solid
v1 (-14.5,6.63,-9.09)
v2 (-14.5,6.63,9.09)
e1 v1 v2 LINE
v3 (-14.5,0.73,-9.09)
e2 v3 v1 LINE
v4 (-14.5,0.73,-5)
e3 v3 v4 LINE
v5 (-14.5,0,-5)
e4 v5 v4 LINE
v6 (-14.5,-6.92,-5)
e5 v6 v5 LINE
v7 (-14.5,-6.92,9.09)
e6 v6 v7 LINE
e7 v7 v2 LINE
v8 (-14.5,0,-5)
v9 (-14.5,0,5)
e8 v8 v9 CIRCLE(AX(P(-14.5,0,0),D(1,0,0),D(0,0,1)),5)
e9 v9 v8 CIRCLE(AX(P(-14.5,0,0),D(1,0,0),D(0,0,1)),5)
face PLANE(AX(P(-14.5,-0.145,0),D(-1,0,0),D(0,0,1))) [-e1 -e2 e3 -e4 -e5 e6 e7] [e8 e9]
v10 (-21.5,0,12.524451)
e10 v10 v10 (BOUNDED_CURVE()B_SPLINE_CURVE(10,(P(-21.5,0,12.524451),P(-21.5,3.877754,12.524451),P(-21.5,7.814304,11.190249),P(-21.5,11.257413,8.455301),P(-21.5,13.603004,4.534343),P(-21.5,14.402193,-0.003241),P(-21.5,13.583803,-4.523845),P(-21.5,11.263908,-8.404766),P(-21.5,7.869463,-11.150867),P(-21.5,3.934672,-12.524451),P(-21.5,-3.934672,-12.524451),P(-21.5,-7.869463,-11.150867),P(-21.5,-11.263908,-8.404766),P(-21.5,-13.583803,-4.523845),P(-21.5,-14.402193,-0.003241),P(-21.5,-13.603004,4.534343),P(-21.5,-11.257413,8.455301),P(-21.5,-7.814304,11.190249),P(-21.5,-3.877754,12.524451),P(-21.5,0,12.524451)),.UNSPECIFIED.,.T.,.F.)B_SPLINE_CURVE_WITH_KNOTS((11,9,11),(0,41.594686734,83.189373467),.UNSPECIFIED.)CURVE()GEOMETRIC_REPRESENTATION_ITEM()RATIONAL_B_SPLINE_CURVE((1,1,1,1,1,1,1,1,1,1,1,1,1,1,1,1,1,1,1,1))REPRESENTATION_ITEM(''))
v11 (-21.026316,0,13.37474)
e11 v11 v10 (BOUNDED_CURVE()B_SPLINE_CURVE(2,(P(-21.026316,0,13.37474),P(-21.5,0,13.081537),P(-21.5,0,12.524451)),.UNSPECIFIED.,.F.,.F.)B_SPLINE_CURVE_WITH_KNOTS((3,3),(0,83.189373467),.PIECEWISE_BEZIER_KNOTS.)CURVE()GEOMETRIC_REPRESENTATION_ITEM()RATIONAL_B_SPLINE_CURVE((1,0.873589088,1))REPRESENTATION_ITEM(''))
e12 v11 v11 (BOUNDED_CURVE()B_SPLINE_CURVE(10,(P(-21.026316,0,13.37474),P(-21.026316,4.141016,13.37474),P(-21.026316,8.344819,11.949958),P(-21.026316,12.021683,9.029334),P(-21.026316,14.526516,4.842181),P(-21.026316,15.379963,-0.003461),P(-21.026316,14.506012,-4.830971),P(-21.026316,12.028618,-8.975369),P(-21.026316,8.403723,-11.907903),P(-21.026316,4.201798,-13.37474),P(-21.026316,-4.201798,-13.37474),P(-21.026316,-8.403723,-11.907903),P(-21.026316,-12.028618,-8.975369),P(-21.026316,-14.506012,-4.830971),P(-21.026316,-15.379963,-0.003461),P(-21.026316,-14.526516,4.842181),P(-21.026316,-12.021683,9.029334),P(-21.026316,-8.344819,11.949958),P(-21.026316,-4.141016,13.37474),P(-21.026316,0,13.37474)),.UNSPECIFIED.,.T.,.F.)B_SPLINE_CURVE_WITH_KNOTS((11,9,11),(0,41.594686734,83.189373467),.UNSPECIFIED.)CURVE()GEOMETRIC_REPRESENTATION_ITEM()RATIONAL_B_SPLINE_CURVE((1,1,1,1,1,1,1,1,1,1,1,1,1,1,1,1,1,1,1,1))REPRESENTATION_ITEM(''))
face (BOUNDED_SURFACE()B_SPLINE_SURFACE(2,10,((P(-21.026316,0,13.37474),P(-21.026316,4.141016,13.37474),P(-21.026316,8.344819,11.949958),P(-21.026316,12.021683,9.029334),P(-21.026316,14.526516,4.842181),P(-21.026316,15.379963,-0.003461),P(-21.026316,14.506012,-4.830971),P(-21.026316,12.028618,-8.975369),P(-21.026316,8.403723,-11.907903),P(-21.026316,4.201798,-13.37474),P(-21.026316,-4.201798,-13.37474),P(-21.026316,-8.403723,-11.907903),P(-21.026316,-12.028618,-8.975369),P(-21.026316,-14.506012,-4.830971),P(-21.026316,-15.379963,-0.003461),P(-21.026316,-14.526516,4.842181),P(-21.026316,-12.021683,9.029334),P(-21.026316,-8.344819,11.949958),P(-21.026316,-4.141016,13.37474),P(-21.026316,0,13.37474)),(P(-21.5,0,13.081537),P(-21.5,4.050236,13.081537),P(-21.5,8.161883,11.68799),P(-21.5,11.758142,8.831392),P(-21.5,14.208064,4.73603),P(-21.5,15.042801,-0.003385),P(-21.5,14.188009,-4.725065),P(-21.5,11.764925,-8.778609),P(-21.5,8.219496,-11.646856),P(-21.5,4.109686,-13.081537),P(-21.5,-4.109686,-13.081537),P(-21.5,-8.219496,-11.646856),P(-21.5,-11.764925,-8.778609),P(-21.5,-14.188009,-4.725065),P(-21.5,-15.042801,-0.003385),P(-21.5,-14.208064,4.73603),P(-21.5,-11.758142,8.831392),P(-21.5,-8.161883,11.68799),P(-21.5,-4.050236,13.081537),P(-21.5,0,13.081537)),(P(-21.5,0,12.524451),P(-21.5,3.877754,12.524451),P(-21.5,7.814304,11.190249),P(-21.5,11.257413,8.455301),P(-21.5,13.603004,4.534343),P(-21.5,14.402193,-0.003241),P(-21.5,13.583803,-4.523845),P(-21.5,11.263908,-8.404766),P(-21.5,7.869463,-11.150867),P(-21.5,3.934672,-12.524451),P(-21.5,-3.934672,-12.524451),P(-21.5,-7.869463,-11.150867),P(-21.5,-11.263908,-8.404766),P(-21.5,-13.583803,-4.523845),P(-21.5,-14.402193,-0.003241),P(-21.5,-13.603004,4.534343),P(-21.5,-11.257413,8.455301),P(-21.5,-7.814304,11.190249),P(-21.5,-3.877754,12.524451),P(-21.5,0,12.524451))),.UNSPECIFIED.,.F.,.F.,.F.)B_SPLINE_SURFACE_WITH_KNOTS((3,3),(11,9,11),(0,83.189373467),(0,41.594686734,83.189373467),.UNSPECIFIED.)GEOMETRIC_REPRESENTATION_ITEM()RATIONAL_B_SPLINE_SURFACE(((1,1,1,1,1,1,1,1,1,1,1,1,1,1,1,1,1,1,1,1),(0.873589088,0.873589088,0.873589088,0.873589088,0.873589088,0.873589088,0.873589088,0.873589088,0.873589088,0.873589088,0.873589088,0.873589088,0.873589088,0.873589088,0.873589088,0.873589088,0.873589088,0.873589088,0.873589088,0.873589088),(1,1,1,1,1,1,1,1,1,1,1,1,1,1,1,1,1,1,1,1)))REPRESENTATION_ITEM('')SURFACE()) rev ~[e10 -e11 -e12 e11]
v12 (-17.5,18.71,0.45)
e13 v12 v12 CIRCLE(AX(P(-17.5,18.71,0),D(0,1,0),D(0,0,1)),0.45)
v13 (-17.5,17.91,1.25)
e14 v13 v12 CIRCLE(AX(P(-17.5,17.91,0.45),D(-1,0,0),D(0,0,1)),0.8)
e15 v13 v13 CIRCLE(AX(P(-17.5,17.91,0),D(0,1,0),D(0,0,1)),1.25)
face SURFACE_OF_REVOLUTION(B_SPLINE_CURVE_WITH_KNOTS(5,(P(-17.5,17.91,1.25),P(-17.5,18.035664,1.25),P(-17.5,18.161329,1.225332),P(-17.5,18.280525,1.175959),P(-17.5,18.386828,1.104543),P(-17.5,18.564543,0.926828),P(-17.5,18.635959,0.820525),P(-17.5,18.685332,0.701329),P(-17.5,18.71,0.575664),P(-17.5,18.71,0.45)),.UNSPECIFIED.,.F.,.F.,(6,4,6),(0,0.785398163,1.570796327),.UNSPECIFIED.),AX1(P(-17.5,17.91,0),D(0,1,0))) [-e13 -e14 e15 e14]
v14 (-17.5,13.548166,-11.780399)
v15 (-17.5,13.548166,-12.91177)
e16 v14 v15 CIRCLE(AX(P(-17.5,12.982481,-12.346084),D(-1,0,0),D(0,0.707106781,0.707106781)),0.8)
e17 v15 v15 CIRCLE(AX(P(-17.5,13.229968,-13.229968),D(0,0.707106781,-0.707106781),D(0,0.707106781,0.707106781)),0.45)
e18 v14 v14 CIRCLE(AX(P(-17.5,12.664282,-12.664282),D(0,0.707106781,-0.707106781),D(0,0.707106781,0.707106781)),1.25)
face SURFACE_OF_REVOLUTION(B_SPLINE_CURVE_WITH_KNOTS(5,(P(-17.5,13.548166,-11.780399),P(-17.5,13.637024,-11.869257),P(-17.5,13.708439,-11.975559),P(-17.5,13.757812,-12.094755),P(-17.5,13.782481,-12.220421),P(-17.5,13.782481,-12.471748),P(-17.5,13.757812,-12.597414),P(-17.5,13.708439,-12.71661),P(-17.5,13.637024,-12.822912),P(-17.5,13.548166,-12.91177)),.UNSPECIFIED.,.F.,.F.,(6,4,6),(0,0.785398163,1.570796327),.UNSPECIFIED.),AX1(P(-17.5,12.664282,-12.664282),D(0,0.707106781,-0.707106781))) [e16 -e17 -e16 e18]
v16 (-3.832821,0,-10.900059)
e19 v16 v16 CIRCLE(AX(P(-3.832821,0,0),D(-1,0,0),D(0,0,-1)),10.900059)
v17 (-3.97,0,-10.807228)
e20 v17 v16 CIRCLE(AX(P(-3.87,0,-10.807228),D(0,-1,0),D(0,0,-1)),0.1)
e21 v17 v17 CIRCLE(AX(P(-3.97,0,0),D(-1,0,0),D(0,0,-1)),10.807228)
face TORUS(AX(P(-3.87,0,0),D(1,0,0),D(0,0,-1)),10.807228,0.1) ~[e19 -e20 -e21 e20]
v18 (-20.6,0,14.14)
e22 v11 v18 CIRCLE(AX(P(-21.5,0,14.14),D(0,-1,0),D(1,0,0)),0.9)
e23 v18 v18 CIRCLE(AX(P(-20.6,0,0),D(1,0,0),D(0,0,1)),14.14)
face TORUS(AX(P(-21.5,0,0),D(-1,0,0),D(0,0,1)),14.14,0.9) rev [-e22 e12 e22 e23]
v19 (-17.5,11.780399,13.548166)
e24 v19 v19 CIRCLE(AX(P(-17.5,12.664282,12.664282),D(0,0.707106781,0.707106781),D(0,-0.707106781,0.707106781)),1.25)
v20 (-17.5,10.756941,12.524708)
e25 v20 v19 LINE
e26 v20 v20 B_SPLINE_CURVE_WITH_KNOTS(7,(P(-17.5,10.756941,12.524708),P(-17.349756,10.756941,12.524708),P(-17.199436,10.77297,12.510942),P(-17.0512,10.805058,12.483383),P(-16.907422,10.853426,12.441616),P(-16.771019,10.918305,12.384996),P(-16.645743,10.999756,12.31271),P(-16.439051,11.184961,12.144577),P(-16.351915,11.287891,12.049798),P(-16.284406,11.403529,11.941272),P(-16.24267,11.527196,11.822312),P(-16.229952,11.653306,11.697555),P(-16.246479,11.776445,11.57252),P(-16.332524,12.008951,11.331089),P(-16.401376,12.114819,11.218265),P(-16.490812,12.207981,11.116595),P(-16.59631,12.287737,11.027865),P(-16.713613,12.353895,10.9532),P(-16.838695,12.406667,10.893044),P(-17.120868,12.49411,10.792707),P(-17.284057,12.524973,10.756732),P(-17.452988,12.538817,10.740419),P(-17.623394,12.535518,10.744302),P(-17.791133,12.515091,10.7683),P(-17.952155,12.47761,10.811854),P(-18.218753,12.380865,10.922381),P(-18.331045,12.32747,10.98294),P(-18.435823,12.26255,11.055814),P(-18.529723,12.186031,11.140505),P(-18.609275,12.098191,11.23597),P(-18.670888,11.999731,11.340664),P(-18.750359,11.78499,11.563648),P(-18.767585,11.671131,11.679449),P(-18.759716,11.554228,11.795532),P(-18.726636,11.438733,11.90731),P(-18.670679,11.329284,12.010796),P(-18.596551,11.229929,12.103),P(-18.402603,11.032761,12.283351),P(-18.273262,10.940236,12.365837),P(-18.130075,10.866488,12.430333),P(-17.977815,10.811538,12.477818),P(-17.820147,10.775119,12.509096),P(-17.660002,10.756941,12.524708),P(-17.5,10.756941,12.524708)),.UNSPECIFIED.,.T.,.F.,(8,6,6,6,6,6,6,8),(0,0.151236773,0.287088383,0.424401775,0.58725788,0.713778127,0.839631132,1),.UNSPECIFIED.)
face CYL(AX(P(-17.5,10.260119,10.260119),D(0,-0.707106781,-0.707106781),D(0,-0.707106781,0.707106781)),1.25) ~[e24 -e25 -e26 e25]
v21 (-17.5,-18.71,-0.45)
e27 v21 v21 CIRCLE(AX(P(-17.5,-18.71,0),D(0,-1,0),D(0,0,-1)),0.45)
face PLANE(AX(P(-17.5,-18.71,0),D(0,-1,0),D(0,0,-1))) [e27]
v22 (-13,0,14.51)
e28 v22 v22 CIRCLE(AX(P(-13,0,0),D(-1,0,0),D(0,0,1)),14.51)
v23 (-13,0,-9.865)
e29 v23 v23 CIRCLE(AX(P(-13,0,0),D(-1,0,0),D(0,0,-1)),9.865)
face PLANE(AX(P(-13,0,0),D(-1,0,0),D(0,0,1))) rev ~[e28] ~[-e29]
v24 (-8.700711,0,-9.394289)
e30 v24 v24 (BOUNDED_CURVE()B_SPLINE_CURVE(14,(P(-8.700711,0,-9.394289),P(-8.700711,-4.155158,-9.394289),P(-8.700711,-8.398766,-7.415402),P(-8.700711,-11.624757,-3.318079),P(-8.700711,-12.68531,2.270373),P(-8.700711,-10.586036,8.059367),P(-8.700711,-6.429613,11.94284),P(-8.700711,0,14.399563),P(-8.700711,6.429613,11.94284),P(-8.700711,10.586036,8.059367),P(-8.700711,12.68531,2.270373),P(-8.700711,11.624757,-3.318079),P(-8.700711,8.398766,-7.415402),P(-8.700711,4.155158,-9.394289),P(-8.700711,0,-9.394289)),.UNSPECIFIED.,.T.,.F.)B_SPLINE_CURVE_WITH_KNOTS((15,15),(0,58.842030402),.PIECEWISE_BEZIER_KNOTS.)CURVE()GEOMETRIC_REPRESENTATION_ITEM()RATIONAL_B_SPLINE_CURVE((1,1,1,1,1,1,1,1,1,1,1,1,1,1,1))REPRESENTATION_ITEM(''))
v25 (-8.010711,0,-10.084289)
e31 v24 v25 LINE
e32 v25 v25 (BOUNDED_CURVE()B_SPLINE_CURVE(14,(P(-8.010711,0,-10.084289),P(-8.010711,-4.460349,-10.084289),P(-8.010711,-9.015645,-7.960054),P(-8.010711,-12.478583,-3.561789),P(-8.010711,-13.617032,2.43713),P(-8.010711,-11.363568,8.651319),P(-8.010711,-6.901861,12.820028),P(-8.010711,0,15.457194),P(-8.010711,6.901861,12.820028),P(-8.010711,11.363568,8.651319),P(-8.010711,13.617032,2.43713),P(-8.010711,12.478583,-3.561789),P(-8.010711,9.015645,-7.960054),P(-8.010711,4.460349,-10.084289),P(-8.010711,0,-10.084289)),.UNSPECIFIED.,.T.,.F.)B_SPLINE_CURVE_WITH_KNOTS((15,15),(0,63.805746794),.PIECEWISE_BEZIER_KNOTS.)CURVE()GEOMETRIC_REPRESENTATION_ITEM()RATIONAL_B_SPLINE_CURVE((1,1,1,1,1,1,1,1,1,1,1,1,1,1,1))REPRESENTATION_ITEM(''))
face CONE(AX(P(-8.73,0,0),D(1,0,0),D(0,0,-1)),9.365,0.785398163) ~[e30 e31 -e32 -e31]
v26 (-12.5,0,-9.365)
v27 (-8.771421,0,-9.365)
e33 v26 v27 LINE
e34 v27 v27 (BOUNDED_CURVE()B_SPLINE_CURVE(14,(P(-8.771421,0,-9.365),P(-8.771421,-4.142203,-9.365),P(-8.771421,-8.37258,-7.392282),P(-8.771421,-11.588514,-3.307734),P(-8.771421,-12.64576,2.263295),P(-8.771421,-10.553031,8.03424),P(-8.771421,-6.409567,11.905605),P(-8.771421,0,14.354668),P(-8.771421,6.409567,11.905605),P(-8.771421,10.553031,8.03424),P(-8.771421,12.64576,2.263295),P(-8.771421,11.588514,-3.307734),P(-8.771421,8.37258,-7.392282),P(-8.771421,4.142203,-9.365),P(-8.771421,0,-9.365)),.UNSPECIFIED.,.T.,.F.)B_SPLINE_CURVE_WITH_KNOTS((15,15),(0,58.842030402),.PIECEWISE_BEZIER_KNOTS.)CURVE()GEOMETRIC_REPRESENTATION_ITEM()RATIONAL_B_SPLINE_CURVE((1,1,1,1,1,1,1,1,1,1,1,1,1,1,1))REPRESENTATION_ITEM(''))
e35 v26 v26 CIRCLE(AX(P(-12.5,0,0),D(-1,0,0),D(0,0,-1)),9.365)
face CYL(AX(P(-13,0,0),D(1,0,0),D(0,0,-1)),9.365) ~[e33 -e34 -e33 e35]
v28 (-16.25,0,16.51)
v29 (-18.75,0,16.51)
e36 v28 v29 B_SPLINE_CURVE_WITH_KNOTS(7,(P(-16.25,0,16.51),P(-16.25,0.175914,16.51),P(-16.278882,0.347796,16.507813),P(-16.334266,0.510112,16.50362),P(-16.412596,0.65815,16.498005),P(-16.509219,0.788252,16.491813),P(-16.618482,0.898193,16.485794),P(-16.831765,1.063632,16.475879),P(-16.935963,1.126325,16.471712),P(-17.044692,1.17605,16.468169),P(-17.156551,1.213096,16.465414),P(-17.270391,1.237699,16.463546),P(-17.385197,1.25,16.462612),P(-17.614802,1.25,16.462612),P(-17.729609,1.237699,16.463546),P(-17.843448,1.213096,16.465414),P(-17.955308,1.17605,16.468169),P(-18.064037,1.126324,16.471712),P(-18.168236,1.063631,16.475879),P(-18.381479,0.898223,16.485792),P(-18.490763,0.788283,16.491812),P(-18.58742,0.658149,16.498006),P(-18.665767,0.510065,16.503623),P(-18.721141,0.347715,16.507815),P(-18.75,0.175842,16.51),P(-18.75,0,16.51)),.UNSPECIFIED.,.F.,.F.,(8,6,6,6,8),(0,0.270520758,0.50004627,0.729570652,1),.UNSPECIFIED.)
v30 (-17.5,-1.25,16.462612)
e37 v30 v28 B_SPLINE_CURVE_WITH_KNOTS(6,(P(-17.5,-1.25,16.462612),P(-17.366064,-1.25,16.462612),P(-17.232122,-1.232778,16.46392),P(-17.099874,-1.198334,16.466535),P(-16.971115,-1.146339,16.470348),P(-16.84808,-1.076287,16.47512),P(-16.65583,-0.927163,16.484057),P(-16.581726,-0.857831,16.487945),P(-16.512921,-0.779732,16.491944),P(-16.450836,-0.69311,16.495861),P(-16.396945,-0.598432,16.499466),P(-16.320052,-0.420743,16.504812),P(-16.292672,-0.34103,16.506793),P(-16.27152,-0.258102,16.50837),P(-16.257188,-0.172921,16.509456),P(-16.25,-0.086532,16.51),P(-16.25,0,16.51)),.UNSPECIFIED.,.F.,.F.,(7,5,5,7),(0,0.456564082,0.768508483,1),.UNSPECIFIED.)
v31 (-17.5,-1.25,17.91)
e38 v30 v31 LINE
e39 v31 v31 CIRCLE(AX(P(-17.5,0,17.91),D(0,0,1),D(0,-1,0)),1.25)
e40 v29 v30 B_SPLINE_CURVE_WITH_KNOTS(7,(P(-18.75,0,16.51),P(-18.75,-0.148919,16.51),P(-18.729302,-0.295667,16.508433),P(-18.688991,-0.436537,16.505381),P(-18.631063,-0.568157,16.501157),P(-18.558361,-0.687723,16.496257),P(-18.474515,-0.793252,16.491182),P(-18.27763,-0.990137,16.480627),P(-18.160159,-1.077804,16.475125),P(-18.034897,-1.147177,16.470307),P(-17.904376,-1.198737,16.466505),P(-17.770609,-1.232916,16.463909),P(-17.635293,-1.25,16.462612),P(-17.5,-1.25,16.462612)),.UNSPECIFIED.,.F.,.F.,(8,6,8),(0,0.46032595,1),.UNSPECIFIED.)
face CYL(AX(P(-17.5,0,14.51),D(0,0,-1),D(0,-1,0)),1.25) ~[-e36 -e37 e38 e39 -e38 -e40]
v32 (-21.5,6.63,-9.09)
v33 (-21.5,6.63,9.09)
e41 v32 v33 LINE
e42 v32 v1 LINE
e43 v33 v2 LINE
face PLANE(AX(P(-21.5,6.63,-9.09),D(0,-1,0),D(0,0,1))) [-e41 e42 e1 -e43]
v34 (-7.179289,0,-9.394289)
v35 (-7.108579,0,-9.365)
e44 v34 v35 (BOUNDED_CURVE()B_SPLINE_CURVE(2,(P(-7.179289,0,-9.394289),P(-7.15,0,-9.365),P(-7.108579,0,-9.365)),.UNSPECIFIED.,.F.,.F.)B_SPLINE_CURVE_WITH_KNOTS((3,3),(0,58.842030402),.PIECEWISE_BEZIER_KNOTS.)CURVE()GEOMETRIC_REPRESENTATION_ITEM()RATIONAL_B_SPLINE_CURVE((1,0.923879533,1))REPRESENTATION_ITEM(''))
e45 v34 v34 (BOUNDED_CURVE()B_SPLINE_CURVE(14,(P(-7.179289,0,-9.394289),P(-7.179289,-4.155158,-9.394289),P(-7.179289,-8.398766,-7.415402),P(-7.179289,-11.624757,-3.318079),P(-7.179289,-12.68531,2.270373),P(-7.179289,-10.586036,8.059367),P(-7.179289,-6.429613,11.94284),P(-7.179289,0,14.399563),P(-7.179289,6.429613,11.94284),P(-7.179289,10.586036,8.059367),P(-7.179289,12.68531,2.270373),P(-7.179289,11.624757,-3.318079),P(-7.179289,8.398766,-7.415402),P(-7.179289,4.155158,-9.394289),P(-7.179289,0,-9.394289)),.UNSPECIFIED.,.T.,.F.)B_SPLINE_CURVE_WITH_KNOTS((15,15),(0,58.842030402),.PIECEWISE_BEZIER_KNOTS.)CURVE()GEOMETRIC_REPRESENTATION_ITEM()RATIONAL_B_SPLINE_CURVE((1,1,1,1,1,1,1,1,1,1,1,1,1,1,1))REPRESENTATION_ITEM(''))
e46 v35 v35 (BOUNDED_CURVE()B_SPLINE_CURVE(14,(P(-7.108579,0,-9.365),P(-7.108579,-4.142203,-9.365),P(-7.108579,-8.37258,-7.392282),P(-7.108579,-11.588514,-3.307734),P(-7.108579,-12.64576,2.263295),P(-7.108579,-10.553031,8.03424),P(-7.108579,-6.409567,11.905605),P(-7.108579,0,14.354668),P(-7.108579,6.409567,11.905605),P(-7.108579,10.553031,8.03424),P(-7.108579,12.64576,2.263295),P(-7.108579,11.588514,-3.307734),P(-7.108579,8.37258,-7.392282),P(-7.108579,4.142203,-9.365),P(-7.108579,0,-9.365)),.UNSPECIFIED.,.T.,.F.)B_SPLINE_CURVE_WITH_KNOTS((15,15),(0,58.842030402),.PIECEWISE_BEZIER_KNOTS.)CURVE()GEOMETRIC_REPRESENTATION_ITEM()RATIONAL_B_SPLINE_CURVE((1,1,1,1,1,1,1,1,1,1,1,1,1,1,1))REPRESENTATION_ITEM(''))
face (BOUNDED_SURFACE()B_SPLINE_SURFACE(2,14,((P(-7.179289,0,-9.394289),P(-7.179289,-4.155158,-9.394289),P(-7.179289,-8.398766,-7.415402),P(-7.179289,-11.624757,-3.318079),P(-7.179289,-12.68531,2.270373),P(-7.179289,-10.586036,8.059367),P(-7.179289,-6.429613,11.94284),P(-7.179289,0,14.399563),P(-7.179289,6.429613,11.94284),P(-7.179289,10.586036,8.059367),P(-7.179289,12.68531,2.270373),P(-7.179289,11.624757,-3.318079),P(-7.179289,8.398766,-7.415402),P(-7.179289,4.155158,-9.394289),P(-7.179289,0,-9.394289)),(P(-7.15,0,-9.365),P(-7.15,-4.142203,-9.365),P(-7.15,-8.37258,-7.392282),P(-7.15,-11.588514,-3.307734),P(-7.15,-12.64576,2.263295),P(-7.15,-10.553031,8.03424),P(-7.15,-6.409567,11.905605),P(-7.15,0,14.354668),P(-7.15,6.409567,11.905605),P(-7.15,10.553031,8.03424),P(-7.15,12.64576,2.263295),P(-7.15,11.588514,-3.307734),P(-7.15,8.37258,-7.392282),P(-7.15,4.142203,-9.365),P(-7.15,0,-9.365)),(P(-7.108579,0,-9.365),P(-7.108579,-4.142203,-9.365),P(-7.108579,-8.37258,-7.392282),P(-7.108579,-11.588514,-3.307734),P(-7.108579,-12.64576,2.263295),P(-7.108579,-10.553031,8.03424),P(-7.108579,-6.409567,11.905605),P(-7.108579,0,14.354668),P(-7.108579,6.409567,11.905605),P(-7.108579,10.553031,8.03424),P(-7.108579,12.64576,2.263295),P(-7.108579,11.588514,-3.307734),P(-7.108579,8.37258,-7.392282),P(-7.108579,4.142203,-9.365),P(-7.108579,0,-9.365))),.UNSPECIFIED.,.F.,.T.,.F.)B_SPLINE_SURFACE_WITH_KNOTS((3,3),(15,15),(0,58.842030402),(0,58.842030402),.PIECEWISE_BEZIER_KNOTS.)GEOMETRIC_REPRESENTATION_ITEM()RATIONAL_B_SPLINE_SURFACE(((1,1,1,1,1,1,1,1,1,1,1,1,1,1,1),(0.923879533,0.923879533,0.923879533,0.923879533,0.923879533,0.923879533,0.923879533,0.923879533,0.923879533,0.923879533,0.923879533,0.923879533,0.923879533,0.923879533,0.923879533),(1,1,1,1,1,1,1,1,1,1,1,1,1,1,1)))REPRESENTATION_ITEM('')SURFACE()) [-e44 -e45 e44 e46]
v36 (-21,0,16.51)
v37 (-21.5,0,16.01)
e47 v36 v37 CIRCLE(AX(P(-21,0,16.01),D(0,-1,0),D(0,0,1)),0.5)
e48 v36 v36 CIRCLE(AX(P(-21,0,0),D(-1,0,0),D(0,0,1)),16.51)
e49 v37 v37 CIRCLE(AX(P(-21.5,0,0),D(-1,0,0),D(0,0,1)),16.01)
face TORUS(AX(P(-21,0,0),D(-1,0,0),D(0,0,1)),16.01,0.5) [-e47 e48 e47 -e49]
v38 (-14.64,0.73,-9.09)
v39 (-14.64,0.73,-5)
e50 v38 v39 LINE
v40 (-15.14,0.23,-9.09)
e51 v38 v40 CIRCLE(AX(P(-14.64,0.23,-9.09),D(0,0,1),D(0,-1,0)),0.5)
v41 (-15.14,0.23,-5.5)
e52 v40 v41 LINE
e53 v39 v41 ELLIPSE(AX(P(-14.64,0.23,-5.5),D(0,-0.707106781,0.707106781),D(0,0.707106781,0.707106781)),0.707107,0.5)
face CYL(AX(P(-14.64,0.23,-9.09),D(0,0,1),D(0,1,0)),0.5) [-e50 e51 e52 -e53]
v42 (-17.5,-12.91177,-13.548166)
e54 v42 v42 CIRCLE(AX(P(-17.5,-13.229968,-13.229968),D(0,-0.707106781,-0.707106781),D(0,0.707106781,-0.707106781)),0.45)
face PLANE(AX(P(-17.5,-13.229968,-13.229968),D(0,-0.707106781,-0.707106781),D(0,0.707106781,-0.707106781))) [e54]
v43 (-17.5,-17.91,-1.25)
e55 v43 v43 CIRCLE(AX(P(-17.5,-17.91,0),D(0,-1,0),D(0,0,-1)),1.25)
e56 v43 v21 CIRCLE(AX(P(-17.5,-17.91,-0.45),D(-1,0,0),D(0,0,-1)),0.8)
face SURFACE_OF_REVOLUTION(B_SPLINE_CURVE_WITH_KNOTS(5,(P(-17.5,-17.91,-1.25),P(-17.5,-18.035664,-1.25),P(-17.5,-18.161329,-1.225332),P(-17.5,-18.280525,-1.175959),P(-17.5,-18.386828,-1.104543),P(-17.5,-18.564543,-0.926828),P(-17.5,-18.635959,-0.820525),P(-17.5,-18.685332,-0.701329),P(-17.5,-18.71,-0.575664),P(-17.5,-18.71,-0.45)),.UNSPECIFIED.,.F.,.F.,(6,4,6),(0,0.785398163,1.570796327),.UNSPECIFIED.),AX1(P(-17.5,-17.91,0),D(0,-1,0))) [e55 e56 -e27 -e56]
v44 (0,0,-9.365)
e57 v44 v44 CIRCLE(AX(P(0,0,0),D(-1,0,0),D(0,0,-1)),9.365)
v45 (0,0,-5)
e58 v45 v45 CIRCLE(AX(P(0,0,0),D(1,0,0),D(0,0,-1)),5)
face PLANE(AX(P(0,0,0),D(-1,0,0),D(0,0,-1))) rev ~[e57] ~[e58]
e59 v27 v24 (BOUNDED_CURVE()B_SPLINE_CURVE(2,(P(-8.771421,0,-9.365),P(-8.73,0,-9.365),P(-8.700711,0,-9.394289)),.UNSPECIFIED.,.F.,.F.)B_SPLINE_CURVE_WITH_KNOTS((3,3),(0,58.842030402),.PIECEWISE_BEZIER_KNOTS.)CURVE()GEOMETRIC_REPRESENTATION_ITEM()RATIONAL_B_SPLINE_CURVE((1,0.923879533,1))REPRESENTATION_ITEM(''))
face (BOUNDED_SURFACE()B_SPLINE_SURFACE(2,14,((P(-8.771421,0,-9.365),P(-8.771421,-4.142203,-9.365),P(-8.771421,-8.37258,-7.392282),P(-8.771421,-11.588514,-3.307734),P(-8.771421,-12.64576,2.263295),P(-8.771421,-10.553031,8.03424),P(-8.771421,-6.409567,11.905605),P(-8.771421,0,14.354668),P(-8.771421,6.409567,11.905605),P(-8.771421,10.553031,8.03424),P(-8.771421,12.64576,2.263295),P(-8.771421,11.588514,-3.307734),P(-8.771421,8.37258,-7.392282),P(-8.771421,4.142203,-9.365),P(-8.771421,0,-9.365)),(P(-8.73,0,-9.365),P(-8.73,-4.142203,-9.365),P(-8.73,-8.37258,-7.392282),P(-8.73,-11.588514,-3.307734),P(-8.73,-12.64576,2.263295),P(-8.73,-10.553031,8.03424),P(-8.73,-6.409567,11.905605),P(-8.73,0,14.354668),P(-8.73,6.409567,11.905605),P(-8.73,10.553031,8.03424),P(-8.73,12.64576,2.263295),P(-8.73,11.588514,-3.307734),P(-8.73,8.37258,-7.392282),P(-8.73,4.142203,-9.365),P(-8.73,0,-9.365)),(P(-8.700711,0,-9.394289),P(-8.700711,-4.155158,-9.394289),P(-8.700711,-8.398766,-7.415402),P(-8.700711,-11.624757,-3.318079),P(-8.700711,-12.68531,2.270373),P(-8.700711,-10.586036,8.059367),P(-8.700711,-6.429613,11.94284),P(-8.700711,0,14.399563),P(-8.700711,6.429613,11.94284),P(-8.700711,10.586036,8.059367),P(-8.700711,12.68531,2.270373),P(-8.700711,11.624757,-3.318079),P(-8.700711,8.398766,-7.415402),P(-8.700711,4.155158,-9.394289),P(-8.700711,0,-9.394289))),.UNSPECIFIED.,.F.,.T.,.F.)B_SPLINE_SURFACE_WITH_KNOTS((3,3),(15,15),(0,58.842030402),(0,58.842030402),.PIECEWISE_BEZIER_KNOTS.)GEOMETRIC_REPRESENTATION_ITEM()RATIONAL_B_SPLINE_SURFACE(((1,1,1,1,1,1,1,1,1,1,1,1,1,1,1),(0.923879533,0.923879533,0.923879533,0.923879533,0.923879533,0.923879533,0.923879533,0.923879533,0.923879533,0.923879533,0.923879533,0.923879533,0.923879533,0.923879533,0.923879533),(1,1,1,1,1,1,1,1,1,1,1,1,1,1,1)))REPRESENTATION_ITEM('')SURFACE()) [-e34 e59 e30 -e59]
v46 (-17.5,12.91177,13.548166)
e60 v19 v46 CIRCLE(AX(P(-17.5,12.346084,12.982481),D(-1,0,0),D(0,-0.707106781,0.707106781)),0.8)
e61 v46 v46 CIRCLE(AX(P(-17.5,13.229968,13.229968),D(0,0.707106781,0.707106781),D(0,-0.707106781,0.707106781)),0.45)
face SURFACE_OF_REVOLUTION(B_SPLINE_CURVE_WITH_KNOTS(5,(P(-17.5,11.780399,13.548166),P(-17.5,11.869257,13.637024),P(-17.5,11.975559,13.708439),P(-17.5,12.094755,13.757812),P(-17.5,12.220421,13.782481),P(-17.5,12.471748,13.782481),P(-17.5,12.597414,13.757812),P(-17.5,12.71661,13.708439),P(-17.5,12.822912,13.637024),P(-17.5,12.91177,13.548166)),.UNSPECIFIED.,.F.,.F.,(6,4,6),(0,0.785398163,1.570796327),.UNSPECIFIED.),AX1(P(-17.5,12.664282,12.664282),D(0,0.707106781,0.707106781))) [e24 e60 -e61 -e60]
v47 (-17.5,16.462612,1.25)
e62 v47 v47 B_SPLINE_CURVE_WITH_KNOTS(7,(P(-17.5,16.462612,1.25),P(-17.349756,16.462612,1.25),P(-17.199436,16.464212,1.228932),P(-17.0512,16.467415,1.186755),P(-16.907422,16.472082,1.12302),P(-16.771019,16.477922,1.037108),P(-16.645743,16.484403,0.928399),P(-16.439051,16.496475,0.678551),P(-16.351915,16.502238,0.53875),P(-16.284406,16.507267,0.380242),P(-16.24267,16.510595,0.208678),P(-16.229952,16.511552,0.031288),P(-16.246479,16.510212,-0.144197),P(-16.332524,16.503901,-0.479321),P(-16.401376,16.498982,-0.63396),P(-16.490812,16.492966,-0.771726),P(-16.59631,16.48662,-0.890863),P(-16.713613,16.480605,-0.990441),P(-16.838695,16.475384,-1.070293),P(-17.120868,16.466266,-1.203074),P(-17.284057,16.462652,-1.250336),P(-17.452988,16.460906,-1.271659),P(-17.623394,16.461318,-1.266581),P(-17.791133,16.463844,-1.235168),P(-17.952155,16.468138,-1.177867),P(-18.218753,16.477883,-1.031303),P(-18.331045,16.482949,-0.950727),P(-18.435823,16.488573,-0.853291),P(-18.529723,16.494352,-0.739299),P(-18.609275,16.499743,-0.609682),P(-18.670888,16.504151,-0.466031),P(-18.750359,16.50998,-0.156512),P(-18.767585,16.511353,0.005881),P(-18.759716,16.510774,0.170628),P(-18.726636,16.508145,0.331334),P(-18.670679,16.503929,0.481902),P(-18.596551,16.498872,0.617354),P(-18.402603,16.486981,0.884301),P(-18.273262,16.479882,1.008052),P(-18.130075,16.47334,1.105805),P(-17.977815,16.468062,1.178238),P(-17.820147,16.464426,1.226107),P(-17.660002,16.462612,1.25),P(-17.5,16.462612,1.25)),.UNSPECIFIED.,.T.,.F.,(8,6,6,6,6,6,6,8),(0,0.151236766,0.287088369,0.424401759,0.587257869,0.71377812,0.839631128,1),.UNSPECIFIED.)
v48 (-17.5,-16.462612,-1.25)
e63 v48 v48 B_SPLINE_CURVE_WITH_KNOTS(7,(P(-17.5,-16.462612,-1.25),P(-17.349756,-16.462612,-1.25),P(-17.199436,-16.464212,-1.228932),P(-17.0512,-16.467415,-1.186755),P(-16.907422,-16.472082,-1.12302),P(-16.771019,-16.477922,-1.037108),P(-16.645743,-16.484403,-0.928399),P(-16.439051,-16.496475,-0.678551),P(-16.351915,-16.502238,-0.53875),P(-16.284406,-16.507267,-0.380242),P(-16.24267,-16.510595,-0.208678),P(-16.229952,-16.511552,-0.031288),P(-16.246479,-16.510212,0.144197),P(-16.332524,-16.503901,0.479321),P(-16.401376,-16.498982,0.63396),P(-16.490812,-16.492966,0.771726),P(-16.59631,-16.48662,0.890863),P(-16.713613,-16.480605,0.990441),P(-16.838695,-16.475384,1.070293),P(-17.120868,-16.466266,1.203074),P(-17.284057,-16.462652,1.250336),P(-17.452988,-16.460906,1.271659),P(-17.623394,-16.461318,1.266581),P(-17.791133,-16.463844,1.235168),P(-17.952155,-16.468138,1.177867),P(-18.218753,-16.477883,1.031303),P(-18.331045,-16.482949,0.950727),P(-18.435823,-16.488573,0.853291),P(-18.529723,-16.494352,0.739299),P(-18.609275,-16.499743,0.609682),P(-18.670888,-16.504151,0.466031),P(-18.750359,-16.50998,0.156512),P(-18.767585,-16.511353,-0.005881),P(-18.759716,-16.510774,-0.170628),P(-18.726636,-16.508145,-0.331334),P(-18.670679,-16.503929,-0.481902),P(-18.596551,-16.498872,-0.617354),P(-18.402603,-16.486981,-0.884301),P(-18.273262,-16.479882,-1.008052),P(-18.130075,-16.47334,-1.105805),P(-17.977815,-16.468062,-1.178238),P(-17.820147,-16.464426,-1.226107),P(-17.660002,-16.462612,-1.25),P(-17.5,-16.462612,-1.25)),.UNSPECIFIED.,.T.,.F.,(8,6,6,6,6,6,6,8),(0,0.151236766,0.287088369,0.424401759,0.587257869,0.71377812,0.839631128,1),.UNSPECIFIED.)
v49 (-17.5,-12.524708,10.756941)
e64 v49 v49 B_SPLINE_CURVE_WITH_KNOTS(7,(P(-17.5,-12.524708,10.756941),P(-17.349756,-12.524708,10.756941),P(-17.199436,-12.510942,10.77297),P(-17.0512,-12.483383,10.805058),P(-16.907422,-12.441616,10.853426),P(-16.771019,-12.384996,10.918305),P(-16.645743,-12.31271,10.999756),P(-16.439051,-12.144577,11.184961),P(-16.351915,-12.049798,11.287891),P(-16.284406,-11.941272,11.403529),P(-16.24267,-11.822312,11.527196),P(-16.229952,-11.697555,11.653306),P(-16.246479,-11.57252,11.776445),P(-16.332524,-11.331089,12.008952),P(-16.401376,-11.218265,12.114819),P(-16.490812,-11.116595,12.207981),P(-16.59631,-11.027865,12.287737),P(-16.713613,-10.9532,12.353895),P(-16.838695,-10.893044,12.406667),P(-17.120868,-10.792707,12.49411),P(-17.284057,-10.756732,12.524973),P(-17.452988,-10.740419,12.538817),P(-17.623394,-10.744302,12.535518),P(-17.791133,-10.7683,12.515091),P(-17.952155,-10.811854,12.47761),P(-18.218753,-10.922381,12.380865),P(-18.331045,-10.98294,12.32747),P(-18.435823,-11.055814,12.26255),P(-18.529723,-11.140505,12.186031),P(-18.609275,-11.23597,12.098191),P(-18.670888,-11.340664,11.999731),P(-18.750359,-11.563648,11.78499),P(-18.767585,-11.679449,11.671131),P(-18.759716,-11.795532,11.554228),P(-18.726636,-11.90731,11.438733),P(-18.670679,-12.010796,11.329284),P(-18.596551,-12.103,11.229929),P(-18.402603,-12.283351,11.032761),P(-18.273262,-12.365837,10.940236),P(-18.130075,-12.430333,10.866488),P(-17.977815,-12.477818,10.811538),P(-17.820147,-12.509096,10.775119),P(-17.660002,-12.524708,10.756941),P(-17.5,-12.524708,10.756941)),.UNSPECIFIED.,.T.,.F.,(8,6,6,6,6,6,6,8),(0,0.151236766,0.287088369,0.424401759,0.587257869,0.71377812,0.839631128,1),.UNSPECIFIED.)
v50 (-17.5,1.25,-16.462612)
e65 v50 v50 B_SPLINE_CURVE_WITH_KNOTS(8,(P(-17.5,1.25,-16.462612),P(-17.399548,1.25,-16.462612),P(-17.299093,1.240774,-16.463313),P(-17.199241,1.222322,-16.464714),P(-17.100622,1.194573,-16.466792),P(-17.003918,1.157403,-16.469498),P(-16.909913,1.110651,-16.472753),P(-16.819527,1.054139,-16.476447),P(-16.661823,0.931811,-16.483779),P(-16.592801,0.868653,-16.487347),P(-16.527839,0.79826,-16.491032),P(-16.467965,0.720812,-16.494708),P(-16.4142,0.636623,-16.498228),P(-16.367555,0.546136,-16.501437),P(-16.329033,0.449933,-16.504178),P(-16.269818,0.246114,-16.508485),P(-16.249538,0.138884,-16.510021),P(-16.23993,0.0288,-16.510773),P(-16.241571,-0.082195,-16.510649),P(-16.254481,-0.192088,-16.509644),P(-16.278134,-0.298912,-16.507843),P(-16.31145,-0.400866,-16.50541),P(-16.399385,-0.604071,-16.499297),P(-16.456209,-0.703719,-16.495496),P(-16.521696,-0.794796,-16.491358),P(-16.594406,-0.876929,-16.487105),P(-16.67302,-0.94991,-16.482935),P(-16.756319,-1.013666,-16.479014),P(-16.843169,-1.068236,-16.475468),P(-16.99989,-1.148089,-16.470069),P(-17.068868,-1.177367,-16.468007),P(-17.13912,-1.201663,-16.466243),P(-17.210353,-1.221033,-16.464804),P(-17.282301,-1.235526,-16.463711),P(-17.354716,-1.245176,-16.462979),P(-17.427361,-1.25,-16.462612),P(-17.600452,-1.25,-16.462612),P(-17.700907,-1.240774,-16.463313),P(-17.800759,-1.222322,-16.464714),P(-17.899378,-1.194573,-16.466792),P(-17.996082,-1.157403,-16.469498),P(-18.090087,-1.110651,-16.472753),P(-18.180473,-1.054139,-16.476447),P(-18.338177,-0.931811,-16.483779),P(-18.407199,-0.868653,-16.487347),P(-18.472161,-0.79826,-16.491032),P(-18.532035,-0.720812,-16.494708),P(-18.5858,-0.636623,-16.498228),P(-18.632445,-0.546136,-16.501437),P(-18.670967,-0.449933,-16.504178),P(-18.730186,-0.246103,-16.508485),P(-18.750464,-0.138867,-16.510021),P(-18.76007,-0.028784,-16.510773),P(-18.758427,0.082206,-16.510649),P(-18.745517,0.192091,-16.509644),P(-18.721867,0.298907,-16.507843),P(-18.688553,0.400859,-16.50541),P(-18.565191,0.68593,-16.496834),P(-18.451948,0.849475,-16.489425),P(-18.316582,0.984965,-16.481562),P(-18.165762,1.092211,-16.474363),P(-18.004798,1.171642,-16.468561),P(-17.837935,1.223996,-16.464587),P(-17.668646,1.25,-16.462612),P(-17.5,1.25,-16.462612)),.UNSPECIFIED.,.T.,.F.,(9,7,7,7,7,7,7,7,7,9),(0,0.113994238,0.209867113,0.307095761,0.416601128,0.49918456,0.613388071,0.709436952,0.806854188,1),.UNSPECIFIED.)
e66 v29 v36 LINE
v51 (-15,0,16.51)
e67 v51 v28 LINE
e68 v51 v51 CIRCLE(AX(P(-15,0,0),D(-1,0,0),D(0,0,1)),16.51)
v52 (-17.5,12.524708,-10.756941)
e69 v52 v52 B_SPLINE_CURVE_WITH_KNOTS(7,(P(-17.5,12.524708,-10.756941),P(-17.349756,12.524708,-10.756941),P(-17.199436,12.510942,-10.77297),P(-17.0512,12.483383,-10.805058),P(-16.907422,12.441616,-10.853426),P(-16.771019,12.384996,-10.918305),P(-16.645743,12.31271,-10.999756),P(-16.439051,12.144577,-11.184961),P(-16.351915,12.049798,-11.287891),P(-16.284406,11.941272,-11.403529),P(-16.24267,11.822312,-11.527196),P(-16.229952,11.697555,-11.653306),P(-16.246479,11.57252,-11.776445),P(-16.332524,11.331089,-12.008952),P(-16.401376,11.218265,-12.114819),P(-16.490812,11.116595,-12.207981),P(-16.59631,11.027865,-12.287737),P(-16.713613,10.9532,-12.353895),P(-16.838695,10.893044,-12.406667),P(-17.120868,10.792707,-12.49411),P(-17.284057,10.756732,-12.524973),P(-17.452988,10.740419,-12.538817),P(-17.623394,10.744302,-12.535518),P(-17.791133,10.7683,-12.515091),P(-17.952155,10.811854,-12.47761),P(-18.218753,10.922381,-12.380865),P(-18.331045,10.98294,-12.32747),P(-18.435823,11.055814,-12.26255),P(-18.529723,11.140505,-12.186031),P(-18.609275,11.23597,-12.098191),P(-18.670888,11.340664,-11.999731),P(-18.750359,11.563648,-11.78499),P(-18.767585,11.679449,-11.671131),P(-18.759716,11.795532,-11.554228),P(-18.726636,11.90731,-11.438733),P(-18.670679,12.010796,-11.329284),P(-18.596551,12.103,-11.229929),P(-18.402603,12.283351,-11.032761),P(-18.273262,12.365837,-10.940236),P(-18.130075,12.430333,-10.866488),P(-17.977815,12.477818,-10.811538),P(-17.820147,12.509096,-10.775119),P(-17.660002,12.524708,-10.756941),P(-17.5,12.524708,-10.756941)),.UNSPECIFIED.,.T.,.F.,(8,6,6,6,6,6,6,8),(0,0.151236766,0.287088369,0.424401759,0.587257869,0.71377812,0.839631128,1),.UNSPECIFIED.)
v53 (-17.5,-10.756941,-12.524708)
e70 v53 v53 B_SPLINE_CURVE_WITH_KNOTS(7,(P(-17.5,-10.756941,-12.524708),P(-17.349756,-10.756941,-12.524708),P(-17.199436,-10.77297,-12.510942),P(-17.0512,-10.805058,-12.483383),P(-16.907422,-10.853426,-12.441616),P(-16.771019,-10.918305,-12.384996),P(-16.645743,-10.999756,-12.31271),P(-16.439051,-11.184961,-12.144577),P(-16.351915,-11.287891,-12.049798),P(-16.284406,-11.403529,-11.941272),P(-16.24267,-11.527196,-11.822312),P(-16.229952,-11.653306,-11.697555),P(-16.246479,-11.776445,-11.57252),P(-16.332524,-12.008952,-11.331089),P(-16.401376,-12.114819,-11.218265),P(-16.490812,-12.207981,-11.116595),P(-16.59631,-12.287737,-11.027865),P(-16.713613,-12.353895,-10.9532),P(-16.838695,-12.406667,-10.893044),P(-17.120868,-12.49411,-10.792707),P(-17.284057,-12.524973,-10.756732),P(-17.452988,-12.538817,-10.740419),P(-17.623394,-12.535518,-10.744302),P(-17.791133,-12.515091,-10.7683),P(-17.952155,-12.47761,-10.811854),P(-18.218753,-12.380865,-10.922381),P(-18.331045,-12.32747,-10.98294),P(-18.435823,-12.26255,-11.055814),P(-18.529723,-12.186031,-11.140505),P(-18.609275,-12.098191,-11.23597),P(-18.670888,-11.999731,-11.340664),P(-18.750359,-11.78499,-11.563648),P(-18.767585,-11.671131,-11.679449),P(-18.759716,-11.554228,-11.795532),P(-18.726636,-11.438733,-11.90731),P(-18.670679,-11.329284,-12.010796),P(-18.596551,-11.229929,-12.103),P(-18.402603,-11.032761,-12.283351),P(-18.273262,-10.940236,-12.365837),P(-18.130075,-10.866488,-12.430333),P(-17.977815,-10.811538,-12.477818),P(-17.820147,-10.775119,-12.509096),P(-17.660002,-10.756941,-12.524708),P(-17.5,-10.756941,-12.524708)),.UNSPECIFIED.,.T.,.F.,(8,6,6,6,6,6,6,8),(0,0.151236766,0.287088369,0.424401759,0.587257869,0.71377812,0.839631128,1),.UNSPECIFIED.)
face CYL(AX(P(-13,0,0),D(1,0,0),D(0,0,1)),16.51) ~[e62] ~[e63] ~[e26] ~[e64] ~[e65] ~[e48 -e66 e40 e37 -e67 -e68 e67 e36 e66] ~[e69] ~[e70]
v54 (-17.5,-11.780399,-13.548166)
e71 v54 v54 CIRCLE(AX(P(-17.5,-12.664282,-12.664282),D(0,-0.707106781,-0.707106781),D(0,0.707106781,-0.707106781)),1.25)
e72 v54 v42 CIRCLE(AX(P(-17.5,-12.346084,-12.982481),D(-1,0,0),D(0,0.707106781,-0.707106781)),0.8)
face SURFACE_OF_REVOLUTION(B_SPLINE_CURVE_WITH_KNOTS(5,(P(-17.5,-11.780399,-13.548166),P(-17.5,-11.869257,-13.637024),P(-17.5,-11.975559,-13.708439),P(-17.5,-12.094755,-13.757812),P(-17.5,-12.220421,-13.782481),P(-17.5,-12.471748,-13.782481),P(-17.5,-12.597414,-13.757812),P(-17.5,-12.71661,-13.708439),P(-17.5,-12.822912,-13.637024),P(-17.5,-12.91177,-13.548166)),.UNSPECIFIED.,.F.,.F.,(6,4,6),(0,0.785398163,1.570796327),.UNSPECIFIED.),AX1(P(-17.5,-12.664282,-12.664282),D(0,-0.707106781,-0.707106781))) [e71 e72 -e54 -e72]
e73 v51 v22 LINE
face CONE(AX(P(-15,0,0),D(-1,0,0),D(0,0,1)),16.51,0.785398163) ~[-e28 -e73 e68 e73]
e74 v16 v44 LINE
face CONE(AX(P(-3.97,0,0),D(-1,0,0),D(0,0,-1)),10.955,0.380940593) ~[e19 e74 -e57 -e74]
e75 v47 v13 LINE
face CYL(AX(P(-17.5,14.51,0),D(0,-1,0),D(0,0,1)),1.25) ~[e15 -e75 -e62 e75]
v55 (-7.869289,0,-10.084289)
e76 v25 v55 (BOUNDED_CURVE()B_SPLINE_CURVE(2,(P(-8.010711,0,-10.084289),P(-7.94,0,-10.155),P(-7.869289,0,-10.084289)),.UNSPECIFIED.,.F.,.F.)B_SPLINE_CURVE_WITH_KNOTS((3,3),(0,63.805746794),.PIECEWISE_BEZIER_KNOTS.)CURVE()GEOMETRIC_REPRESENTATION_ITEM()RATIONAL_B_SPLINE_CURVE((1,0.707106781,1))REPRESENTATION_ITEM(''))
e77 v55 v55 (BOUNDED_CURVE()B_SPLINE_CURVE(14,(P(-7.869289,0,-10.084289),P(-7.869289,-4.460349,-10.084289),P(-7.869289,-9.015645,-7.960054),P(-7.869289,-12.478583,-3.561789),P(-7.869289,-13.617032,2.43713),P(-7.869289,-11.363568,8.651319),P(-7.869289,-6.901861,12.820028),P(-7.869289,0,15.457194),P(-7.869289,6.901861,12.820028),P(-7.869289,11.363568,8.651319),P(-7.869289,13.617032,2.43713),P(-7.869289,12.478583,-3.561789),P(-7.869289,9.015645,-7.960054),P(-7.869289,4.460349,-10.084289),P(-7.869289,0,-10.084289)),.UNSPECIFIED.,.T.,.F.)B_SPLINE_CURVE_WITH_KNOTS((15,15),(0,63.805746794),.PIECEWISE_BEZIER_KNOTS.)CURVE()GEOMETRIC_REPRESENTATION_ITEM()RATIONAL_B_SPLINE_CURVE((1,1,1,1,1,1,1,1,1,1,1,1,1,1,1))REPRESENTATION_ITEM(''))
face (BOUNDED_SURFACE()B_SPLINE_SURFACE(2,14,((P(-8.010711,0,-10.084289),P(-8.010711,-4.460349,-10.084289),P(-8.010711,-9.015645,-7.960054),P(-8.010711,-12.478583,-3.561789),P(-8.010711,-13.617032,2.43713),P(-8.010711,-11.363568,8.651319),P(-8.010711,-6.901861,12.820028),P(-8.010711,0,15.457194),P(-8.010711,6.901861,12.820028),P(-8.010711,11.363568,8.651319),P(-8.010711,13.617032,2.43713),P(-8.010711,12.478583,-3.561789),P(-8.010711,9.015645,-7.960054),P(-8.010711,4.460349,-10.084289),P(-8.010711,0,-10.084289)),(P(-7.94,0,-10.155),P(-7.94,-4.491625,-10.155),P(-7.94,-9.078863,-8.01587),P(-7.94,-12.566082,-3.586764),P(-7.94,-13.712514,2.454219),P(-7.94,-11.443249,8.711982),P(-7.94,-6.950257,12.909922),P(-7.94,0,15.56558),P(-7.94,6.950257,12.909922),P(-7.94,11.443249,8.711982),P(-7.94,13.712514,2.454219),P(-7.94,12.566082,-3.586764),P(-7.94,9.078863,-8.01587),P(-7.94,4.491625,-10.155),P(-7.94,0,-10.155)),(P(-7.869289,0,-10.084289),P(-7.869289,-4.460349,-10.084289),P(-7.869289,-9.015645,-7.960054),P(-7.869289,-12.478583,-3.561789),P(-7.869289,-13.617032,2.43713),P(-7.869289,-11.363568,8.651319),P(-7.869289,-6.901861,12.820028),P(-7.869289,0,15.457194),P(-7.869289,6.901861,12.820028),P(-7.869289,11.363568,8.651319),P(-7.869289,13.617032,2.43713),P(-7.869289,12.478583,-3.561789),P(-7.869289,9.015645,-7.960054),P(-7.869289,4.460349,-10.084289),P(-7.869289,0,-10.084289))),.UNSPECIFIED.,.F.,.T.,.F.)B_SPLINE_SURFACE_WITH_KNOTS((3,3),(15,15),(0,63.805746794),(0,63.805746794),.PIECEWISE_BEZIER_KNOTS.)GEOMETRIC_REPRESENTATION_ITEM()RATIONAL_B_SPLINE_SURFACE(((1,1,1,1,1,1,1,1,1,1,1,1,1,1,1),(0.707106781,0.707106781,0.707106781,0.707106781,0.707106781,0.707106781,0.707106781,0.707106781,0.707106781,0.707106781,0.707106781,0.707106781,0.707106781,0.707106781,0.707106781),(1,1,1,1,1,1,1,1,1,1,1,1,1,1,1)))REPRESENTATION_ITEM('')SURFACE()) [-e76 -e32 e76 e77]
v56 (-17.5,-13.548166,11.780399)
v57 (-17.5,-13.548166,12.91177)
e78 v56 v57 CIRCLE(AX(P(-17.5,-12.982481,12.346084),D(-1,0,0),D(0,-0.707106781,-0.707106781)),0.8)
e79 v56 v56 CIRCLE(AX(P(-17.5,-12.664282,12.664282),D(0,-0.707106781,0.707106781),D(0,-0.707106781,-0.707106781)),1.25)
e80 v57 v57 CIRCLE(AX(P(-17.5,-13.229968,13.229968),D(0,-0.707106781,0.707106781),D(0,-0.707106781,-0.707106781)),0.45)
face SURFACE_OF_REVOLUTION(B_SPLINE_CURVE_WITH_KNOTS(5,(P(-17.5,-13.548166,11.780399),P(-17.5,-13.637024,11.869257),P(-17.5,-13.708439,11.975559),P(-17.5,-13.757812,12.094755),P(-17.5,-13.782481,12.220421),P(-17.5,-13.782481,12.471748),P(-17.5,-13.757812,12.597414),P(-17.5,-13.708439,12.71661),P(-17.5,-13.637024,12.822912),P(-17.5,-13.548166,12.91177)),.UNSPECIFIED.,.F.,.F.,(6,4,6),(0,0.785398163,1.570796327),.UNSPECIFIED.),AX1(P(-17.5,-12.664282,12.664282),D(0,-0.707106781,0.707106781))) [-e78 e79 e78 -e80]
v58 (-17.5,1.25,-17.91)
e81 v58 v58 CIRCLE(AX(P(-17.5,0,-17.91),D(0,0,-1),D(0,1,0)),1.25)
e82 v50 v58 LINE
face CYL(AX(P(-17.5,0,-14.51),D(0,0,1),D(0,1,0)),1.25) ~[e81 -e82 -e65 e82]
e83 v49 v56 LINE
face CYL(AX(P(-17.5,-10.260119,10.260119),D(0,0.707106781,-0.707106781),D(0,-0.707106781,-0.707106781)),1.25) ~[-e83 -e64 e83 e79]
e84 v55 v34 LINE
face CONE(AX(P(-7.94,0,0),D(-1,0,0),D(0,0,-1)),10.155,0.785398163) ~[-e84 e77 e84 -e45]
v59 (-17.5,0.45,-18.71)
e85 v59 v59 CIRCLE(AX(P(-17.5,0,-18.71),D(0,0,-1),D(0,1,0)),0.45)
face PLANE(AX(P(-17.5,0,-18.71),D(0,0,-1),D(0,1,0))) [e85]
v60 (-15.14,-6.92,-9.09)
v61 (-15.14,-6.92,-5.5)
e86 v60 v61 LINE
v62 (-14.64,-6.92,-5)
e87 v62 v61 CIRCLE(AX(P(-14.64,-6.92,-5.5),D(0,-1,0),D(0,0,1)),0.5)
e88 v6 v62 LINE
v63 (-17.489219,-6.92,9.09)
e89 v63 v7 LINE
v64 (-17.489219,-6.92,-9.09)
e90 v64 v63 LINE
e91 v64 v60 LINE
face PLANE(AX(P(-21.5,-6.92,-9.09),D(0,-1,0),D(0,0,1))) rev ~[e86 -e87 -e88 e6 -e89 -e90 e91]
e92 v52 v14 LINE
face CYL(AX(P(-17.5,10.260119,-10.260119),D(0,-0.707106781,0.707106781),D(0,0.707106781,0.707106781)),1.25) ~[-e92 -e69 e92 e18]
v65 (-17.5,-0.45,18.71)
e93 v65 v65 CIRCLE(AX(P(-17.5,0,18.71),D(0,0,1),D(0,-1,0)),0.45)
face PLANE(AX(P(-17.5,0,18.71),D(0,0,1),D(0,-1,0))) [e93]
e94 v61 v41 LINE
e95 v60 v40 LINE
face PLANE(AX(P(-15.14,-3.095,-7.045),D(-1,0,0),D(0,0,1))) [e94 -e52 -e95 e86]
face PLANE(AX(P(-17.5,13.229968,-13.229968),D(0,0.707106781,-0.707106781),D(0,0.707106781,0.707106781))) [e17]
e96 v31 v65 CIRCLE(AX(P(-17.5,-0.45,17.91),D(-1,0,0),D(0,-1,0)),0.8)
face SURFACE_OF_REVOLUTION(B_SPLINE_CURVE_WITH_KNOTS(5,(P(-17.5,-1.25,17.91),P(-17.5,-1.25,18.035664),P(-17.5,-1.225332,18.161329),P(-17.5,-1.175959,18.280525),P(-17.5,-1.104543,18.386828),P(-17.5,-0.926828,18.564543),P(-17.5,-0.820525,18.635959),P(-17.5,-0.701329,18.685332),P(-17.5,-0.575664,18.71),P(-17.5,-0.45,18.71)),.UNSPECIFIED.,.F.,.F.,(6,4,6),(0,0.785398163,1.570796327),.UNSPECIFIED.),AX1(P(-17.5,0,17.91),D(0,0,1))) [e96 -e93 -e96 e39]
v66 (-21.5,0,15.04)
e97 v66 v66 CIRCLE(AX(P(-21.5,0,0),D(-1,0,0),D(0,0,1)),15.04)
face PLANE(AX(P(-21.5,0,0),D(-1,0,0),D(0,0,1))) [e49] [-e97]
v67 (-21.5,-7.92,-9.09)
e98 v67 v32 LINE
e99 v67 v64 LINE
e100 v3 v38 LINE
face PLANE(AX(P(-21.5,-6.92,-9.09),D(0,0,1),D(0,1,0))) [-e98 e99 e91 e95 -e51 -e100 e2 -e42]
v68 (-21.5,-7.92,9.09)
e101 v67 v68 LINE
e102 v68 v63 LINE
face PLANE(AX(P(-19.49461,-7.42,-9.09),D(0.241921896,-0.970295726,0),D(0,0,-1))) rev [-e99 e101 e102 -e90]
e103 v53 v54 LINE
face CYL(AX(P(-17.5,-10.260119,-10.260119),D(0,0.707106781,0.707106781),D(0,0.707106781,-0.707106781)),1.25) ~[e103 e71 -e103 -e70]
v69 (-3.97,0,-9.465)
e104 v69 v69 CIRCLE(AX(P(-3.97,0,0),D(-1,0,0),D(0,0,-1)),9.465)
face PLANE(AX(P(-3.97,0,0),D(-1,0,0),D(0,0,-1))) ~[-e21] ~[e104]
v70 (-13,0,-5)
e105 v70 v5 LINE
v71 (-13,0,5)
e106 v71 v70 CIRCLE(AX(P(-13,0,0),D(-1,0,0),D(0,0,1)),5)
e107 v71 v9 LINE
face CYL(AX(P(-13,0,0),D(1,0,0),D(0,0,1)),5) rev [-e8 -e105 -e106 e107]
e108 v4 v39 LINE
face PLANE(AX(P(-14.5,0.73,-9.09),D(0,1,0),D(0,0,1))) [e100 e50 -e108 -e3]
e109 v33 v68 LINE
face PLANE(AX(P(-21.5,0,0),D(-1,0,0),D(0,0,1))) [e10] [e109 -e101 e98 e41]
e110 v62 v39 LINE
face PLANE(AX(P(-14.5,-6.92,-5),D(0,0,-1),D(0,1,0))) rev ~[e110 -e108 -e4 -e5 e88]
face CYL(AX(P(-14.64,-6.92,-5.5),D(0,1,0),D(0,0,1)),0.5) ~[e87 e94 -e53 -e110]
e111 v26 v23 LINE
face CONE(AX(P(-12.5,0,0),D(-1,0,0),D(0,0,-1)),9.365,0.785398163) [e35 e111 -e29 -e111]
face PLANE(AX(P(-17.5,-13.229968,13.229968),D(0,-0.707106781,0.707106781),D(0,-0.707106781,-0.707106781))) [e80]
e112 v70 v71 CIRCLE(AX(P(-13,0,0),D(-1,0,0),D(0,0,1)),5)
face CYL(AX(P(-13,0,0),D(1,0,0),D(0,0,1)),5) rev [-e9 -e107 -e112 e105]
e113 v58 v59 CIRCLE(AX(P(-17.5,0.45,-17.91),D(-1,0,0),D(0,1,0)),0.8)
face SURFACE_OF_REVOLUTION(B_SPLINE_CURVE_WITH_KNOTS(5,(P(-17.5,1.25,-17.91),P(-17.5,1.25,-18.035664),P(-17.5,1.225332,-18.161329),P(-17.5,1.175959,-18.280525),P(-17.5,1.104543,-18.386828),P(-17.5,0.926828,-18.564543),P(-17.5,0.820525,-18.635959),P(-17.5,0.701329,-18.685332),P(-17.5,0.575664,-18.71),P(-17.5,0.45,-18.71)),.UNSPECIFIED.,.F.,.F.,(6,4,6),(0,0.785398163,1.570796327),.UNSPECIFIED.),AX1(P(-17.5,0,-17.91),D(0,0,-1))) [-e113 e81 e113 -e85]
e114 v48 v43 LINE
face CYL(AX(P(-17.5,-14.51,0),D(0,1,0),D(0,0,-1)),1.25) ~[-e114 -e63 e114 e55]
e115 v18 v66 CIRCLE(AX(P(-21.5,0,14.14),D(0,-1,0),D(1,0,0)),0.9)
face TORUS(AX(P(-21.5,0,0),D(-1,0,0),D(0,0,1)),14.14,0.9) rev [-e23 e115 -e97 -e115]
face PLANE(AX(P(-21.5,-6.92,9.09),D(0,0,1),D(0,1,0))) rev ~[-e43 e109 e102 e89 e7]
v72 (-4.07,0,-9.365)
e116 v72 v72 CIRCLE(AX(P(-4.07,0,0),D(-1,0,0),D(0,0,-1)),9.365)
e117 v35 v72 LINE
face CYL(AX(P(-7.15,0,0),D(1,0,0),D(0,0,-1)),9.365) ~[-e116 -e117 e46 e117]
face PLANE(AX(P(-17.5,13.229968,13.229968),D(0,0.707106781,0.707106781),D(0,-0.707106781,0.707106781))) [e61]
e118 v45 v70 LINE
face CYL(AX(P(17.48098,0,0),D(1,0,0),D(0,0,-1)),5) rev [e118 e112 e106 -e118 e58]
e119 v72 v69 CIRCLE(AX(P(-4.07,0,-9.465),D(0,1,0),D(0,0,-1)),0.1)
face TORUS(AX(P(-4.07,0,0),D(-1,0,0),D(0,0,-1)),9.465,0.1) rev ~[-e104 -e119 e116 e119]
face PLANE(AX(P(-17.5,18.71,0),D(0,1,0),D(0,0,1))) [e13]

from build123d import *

# Parameters (mm, degrees)
SKETCH2_R                = 16.51
SKETCH2_R_2              = 9.365
SKETCH2_R_3              = 5
BOSS_EXTRUDE1_DEPTH      = 8.5
SKETCH4_W                = 18.18
SKETCH4_H                = 13.55
CUT_EXTRUDE1_DEPTH       = 7
SKETCH6_R                = 0.9
FILLET1_R                = 1
BOSS_EXTRUDE2_START      = -2
SKETCH7_R                = 1.25
BOSS_EXTRUDE2_DEPTH      = 4.2
FILLET2_R                = 0.8
CIRPATTERN1_COUNT        = 8
FILLET2_OF_CIRPATTERN1_R = 0.8
CHAMFER1_SIZE            = 2
FILLET3_R                = 0.5
FILLET4_R                = 0.1
CHAMFER2_SIZE            = 0.5
CUT_EXTRUDE2_DEPTH       = 30.480980309
CUT_EXTRUDE2_DEPTH_BACK  = 30.480980309
SKETCH2_3_R              = 5
CHAMFER3_SIZE            = 1
CHAMFER3_SIZE2           = 4.010780934
SKETCH8_W                = 4.09
SKETCH8_H                = 7.65
BOSS_EXTRUDE3_DEPTH      = 0.64
FILLET5_R                = 0.5


with BuildPart() as part:
    # Sketch1 → Revolve1 (revolve)
    with BuildSketch(Plane(origin=(0, 0, 0), x_dir=(1, 0, 0), z_dir=(0, 1, 0))):
        Polygon((0, 0), (-13, 0), (-13, 9.365), (-8.73, 9.365), (-7.94, 10.155), (-7.15, 9.365), (-3.97, 9.365), (-3.97, 10.955), (0, 9.365), align=None)
    revolve(axis=Axis((0, 0, 0), (-1, 0, 0)))

    # Sketch2 → Boss-Extrude1 (add)
    # profile 1 of 2: a face of its own
    with BuildSketch(Plane.ZY.offset(13)):
        Circle(SKETCH2_R)
        with Locations(Location((0, 0, 0), (0, 0, 180))):
            Circle(SKETCH2_R_2, mode=Mode.SUBTRACT)
    # profile 2 of 2: a face of its own
    with BuildSketch(Plane.ZY.offset(13)):
        with Locations(Location((0, 0, 0), (0, 0, 180))):
            Circle(SKETCH2_R_2)
        Circle(SKETCH2_R_3, mode=Mode.SUBTRACT)
    extrude(amount=BOSS_EXTRUDE1_DEPTH)

    # Sketch4 → Cut-Extrude1 (cut)
    with BuildSketch(Plane.ZY.offset(21.5)):
        with Locations((0, -0.145)):
            Rectangle(SKETCH4_W, SKETCH4_H)
    extrude(amount=-CUT_EXTRUDE1_DEPTH, mode=Mode.SUBTRACT)

    # Sketch6 → Cut-Revolve1 (revolve, cut)
    with BuildSketch(Plane.XY, mode=Mode.PRIVATE) as cut_revolve1_sk:
        with Locations((-21.5, 14.14)):
            Circle(SKETCH6_R)
    revolve(cut_revolve1_sk.sketch.rotate(Axis((-35.027065124, 0, 0), (1, 0, 0)), 90), axis=Axis((-35.027065124, 0, 0), (1, 0, 0)), mode=Mode.SUBTRACT)

    # Fillet1
    fillet1_edges = [part.edges().sort_by_distance(p)[0] for p in [
        (-21.5, 0, -13.24),
    ]]
    fillet(fillet1_edges, radius=FILLET1_R)

    # Sketch7 → Boss-Extrude2 (add)
    with BuildSketch(Plane(origin=(0, 16.51, 0), x_dir=(1, 0, 0), z_dir=(0, 1, 0)).offset(BOSS_EXTRUDE2_START)):
        with Locations(Location((-17.5, 0, 0), (0, 0, 270))):
            Circle(SKETCH7_R)
    boss_extrude2 = extrude(amount=BOSS_EXTRUDE2_DEPTH)

    # Fillet2
    fillet2_edges = [part.edges().sort_by_distance(p)[0] for p in [
        (-17.5, 18.71, -1.25),
    ]]
    fillet(fillet2_edges, radius=FILLET2_R)

    # CirPattern1: Boss-Extrude2 ×8 about axis
    cirpattern1_axis = Axis((0, 0, 0), (1, 0, 0))
    for i in range(1, CIRPATTERN1_COUNT):
        add(boss_extrude2.rotate(cirpattern1_axis, i * 360 / CIRPATTERN1_COUNT))

    # Fillet2 of CirPattern1
    fillet2_of_cirpattern1_edges = [part.edges().sort_by_distance(p)[0] for p in [
        (-17.5, 14.113851352, 12.3460844),
        (-17.5, 1.25, 18.71),
        (-17.5, -12.3460844, 14.113851352),
        (-17.5, -18.71, 1.25),
        (-17.5, -14.113851352, -12.3460844),
        (-17.5, -1.25, -18.71),
        (-17.5, 12.3460844, -14.113851352),
    ]]
    fillet(fillet2_of_cirpattern1_edges, radius=FILLET2_OF_CIRPATTERN1_R)

    # Chamfer1
    chamfer1_edges = [part.edges().sort_by_distance(p)[0] for p in [
        (-13, 0, -16.51),
    ]]
    chamfer(chamfer1_edges, length=CHAMFER1_SIZE)

    # Fillet3
    fillet3_edges = [part.edges().sort_by_distance(p)[0] for p in [
        (-21.5, 0, -16.51),
    ]]
    fillet(fillet3_edges, radius=FILLET3_R)

    # Fillet4
    fillet4_edges = [part.edges().sort_by_distance(p)[0] for p in [
        (-3.97, 0, 9.365),
        (-3.97, 0, 10.955),
        (-8.73, 0, 9.365),
        (-7.94, 0, 10.155),
        (-7.15, 0, 9.365),
    ]]
    fillet(fillet4_edges, radius=FILLET4_R)

    # Chamfer2
    chamfer2_edges = [part.edges().sort_by_distance(p)[0] for p in [
        (-13, 0, 9.365),
    ]]
    chamfer(chamfer2_edges, length=CHAMFER2_SIZE)

    # Sketch2<3> → Cut-Extrude2 (cut, two sides: drawn at the far end of the back side and taken through both)
    with BuildSketch(Plane.ZY.offset(13).offset(-CUT_EXTRUDE2_DEPTH_BACK)):
        with Locations(Location((0, 0, 0), (0, 0, 180))):
            Circle(SKETCH2_3_R)
    extrude(amount=CUT_EXTRUDE2_DEPTH + CUT_EXTRUDE2_DEPTH_BACK, mode=Mode.SUBTRACT)

    # Chamfer3
    chamfer3_edges = [part.edges().sort_by_distance(p)[0] for p in [
        (-21.5, -6.92, 0),
    ]]
    chamfer3_side = [part.faces().sort_by_distance(p)[0] for p in [
        (-21.5, 0, -12.170205593),
    ]]
    chamfer(chamfer3_edges, length=CHAMFER3_SIZE, length2=CHAMFER3_SIZE2, reference=chamfer3_side[0])

    # Sketch8 → Boss-Extrude3 (add)
    with BuildSketch(Plane.ZY.offset(14.5)):
        with Locations((-7.045, -3.095)):
            Rectangle(SKETCH8_W, SKETCH8_H)
    extrude(amount=BOSS_EXTRUDE3_DEPTH)

    # Fillet5
    fillet5_edges = [part.edges().sort_by_distance(p)[0] for p in [
        (-15.14, -3.095, -5),
        (-15.14, 0.73, -7.045),
    ]]
    fillet(fillet5_edges, radius=FILLET5_R)


solid = part.part
